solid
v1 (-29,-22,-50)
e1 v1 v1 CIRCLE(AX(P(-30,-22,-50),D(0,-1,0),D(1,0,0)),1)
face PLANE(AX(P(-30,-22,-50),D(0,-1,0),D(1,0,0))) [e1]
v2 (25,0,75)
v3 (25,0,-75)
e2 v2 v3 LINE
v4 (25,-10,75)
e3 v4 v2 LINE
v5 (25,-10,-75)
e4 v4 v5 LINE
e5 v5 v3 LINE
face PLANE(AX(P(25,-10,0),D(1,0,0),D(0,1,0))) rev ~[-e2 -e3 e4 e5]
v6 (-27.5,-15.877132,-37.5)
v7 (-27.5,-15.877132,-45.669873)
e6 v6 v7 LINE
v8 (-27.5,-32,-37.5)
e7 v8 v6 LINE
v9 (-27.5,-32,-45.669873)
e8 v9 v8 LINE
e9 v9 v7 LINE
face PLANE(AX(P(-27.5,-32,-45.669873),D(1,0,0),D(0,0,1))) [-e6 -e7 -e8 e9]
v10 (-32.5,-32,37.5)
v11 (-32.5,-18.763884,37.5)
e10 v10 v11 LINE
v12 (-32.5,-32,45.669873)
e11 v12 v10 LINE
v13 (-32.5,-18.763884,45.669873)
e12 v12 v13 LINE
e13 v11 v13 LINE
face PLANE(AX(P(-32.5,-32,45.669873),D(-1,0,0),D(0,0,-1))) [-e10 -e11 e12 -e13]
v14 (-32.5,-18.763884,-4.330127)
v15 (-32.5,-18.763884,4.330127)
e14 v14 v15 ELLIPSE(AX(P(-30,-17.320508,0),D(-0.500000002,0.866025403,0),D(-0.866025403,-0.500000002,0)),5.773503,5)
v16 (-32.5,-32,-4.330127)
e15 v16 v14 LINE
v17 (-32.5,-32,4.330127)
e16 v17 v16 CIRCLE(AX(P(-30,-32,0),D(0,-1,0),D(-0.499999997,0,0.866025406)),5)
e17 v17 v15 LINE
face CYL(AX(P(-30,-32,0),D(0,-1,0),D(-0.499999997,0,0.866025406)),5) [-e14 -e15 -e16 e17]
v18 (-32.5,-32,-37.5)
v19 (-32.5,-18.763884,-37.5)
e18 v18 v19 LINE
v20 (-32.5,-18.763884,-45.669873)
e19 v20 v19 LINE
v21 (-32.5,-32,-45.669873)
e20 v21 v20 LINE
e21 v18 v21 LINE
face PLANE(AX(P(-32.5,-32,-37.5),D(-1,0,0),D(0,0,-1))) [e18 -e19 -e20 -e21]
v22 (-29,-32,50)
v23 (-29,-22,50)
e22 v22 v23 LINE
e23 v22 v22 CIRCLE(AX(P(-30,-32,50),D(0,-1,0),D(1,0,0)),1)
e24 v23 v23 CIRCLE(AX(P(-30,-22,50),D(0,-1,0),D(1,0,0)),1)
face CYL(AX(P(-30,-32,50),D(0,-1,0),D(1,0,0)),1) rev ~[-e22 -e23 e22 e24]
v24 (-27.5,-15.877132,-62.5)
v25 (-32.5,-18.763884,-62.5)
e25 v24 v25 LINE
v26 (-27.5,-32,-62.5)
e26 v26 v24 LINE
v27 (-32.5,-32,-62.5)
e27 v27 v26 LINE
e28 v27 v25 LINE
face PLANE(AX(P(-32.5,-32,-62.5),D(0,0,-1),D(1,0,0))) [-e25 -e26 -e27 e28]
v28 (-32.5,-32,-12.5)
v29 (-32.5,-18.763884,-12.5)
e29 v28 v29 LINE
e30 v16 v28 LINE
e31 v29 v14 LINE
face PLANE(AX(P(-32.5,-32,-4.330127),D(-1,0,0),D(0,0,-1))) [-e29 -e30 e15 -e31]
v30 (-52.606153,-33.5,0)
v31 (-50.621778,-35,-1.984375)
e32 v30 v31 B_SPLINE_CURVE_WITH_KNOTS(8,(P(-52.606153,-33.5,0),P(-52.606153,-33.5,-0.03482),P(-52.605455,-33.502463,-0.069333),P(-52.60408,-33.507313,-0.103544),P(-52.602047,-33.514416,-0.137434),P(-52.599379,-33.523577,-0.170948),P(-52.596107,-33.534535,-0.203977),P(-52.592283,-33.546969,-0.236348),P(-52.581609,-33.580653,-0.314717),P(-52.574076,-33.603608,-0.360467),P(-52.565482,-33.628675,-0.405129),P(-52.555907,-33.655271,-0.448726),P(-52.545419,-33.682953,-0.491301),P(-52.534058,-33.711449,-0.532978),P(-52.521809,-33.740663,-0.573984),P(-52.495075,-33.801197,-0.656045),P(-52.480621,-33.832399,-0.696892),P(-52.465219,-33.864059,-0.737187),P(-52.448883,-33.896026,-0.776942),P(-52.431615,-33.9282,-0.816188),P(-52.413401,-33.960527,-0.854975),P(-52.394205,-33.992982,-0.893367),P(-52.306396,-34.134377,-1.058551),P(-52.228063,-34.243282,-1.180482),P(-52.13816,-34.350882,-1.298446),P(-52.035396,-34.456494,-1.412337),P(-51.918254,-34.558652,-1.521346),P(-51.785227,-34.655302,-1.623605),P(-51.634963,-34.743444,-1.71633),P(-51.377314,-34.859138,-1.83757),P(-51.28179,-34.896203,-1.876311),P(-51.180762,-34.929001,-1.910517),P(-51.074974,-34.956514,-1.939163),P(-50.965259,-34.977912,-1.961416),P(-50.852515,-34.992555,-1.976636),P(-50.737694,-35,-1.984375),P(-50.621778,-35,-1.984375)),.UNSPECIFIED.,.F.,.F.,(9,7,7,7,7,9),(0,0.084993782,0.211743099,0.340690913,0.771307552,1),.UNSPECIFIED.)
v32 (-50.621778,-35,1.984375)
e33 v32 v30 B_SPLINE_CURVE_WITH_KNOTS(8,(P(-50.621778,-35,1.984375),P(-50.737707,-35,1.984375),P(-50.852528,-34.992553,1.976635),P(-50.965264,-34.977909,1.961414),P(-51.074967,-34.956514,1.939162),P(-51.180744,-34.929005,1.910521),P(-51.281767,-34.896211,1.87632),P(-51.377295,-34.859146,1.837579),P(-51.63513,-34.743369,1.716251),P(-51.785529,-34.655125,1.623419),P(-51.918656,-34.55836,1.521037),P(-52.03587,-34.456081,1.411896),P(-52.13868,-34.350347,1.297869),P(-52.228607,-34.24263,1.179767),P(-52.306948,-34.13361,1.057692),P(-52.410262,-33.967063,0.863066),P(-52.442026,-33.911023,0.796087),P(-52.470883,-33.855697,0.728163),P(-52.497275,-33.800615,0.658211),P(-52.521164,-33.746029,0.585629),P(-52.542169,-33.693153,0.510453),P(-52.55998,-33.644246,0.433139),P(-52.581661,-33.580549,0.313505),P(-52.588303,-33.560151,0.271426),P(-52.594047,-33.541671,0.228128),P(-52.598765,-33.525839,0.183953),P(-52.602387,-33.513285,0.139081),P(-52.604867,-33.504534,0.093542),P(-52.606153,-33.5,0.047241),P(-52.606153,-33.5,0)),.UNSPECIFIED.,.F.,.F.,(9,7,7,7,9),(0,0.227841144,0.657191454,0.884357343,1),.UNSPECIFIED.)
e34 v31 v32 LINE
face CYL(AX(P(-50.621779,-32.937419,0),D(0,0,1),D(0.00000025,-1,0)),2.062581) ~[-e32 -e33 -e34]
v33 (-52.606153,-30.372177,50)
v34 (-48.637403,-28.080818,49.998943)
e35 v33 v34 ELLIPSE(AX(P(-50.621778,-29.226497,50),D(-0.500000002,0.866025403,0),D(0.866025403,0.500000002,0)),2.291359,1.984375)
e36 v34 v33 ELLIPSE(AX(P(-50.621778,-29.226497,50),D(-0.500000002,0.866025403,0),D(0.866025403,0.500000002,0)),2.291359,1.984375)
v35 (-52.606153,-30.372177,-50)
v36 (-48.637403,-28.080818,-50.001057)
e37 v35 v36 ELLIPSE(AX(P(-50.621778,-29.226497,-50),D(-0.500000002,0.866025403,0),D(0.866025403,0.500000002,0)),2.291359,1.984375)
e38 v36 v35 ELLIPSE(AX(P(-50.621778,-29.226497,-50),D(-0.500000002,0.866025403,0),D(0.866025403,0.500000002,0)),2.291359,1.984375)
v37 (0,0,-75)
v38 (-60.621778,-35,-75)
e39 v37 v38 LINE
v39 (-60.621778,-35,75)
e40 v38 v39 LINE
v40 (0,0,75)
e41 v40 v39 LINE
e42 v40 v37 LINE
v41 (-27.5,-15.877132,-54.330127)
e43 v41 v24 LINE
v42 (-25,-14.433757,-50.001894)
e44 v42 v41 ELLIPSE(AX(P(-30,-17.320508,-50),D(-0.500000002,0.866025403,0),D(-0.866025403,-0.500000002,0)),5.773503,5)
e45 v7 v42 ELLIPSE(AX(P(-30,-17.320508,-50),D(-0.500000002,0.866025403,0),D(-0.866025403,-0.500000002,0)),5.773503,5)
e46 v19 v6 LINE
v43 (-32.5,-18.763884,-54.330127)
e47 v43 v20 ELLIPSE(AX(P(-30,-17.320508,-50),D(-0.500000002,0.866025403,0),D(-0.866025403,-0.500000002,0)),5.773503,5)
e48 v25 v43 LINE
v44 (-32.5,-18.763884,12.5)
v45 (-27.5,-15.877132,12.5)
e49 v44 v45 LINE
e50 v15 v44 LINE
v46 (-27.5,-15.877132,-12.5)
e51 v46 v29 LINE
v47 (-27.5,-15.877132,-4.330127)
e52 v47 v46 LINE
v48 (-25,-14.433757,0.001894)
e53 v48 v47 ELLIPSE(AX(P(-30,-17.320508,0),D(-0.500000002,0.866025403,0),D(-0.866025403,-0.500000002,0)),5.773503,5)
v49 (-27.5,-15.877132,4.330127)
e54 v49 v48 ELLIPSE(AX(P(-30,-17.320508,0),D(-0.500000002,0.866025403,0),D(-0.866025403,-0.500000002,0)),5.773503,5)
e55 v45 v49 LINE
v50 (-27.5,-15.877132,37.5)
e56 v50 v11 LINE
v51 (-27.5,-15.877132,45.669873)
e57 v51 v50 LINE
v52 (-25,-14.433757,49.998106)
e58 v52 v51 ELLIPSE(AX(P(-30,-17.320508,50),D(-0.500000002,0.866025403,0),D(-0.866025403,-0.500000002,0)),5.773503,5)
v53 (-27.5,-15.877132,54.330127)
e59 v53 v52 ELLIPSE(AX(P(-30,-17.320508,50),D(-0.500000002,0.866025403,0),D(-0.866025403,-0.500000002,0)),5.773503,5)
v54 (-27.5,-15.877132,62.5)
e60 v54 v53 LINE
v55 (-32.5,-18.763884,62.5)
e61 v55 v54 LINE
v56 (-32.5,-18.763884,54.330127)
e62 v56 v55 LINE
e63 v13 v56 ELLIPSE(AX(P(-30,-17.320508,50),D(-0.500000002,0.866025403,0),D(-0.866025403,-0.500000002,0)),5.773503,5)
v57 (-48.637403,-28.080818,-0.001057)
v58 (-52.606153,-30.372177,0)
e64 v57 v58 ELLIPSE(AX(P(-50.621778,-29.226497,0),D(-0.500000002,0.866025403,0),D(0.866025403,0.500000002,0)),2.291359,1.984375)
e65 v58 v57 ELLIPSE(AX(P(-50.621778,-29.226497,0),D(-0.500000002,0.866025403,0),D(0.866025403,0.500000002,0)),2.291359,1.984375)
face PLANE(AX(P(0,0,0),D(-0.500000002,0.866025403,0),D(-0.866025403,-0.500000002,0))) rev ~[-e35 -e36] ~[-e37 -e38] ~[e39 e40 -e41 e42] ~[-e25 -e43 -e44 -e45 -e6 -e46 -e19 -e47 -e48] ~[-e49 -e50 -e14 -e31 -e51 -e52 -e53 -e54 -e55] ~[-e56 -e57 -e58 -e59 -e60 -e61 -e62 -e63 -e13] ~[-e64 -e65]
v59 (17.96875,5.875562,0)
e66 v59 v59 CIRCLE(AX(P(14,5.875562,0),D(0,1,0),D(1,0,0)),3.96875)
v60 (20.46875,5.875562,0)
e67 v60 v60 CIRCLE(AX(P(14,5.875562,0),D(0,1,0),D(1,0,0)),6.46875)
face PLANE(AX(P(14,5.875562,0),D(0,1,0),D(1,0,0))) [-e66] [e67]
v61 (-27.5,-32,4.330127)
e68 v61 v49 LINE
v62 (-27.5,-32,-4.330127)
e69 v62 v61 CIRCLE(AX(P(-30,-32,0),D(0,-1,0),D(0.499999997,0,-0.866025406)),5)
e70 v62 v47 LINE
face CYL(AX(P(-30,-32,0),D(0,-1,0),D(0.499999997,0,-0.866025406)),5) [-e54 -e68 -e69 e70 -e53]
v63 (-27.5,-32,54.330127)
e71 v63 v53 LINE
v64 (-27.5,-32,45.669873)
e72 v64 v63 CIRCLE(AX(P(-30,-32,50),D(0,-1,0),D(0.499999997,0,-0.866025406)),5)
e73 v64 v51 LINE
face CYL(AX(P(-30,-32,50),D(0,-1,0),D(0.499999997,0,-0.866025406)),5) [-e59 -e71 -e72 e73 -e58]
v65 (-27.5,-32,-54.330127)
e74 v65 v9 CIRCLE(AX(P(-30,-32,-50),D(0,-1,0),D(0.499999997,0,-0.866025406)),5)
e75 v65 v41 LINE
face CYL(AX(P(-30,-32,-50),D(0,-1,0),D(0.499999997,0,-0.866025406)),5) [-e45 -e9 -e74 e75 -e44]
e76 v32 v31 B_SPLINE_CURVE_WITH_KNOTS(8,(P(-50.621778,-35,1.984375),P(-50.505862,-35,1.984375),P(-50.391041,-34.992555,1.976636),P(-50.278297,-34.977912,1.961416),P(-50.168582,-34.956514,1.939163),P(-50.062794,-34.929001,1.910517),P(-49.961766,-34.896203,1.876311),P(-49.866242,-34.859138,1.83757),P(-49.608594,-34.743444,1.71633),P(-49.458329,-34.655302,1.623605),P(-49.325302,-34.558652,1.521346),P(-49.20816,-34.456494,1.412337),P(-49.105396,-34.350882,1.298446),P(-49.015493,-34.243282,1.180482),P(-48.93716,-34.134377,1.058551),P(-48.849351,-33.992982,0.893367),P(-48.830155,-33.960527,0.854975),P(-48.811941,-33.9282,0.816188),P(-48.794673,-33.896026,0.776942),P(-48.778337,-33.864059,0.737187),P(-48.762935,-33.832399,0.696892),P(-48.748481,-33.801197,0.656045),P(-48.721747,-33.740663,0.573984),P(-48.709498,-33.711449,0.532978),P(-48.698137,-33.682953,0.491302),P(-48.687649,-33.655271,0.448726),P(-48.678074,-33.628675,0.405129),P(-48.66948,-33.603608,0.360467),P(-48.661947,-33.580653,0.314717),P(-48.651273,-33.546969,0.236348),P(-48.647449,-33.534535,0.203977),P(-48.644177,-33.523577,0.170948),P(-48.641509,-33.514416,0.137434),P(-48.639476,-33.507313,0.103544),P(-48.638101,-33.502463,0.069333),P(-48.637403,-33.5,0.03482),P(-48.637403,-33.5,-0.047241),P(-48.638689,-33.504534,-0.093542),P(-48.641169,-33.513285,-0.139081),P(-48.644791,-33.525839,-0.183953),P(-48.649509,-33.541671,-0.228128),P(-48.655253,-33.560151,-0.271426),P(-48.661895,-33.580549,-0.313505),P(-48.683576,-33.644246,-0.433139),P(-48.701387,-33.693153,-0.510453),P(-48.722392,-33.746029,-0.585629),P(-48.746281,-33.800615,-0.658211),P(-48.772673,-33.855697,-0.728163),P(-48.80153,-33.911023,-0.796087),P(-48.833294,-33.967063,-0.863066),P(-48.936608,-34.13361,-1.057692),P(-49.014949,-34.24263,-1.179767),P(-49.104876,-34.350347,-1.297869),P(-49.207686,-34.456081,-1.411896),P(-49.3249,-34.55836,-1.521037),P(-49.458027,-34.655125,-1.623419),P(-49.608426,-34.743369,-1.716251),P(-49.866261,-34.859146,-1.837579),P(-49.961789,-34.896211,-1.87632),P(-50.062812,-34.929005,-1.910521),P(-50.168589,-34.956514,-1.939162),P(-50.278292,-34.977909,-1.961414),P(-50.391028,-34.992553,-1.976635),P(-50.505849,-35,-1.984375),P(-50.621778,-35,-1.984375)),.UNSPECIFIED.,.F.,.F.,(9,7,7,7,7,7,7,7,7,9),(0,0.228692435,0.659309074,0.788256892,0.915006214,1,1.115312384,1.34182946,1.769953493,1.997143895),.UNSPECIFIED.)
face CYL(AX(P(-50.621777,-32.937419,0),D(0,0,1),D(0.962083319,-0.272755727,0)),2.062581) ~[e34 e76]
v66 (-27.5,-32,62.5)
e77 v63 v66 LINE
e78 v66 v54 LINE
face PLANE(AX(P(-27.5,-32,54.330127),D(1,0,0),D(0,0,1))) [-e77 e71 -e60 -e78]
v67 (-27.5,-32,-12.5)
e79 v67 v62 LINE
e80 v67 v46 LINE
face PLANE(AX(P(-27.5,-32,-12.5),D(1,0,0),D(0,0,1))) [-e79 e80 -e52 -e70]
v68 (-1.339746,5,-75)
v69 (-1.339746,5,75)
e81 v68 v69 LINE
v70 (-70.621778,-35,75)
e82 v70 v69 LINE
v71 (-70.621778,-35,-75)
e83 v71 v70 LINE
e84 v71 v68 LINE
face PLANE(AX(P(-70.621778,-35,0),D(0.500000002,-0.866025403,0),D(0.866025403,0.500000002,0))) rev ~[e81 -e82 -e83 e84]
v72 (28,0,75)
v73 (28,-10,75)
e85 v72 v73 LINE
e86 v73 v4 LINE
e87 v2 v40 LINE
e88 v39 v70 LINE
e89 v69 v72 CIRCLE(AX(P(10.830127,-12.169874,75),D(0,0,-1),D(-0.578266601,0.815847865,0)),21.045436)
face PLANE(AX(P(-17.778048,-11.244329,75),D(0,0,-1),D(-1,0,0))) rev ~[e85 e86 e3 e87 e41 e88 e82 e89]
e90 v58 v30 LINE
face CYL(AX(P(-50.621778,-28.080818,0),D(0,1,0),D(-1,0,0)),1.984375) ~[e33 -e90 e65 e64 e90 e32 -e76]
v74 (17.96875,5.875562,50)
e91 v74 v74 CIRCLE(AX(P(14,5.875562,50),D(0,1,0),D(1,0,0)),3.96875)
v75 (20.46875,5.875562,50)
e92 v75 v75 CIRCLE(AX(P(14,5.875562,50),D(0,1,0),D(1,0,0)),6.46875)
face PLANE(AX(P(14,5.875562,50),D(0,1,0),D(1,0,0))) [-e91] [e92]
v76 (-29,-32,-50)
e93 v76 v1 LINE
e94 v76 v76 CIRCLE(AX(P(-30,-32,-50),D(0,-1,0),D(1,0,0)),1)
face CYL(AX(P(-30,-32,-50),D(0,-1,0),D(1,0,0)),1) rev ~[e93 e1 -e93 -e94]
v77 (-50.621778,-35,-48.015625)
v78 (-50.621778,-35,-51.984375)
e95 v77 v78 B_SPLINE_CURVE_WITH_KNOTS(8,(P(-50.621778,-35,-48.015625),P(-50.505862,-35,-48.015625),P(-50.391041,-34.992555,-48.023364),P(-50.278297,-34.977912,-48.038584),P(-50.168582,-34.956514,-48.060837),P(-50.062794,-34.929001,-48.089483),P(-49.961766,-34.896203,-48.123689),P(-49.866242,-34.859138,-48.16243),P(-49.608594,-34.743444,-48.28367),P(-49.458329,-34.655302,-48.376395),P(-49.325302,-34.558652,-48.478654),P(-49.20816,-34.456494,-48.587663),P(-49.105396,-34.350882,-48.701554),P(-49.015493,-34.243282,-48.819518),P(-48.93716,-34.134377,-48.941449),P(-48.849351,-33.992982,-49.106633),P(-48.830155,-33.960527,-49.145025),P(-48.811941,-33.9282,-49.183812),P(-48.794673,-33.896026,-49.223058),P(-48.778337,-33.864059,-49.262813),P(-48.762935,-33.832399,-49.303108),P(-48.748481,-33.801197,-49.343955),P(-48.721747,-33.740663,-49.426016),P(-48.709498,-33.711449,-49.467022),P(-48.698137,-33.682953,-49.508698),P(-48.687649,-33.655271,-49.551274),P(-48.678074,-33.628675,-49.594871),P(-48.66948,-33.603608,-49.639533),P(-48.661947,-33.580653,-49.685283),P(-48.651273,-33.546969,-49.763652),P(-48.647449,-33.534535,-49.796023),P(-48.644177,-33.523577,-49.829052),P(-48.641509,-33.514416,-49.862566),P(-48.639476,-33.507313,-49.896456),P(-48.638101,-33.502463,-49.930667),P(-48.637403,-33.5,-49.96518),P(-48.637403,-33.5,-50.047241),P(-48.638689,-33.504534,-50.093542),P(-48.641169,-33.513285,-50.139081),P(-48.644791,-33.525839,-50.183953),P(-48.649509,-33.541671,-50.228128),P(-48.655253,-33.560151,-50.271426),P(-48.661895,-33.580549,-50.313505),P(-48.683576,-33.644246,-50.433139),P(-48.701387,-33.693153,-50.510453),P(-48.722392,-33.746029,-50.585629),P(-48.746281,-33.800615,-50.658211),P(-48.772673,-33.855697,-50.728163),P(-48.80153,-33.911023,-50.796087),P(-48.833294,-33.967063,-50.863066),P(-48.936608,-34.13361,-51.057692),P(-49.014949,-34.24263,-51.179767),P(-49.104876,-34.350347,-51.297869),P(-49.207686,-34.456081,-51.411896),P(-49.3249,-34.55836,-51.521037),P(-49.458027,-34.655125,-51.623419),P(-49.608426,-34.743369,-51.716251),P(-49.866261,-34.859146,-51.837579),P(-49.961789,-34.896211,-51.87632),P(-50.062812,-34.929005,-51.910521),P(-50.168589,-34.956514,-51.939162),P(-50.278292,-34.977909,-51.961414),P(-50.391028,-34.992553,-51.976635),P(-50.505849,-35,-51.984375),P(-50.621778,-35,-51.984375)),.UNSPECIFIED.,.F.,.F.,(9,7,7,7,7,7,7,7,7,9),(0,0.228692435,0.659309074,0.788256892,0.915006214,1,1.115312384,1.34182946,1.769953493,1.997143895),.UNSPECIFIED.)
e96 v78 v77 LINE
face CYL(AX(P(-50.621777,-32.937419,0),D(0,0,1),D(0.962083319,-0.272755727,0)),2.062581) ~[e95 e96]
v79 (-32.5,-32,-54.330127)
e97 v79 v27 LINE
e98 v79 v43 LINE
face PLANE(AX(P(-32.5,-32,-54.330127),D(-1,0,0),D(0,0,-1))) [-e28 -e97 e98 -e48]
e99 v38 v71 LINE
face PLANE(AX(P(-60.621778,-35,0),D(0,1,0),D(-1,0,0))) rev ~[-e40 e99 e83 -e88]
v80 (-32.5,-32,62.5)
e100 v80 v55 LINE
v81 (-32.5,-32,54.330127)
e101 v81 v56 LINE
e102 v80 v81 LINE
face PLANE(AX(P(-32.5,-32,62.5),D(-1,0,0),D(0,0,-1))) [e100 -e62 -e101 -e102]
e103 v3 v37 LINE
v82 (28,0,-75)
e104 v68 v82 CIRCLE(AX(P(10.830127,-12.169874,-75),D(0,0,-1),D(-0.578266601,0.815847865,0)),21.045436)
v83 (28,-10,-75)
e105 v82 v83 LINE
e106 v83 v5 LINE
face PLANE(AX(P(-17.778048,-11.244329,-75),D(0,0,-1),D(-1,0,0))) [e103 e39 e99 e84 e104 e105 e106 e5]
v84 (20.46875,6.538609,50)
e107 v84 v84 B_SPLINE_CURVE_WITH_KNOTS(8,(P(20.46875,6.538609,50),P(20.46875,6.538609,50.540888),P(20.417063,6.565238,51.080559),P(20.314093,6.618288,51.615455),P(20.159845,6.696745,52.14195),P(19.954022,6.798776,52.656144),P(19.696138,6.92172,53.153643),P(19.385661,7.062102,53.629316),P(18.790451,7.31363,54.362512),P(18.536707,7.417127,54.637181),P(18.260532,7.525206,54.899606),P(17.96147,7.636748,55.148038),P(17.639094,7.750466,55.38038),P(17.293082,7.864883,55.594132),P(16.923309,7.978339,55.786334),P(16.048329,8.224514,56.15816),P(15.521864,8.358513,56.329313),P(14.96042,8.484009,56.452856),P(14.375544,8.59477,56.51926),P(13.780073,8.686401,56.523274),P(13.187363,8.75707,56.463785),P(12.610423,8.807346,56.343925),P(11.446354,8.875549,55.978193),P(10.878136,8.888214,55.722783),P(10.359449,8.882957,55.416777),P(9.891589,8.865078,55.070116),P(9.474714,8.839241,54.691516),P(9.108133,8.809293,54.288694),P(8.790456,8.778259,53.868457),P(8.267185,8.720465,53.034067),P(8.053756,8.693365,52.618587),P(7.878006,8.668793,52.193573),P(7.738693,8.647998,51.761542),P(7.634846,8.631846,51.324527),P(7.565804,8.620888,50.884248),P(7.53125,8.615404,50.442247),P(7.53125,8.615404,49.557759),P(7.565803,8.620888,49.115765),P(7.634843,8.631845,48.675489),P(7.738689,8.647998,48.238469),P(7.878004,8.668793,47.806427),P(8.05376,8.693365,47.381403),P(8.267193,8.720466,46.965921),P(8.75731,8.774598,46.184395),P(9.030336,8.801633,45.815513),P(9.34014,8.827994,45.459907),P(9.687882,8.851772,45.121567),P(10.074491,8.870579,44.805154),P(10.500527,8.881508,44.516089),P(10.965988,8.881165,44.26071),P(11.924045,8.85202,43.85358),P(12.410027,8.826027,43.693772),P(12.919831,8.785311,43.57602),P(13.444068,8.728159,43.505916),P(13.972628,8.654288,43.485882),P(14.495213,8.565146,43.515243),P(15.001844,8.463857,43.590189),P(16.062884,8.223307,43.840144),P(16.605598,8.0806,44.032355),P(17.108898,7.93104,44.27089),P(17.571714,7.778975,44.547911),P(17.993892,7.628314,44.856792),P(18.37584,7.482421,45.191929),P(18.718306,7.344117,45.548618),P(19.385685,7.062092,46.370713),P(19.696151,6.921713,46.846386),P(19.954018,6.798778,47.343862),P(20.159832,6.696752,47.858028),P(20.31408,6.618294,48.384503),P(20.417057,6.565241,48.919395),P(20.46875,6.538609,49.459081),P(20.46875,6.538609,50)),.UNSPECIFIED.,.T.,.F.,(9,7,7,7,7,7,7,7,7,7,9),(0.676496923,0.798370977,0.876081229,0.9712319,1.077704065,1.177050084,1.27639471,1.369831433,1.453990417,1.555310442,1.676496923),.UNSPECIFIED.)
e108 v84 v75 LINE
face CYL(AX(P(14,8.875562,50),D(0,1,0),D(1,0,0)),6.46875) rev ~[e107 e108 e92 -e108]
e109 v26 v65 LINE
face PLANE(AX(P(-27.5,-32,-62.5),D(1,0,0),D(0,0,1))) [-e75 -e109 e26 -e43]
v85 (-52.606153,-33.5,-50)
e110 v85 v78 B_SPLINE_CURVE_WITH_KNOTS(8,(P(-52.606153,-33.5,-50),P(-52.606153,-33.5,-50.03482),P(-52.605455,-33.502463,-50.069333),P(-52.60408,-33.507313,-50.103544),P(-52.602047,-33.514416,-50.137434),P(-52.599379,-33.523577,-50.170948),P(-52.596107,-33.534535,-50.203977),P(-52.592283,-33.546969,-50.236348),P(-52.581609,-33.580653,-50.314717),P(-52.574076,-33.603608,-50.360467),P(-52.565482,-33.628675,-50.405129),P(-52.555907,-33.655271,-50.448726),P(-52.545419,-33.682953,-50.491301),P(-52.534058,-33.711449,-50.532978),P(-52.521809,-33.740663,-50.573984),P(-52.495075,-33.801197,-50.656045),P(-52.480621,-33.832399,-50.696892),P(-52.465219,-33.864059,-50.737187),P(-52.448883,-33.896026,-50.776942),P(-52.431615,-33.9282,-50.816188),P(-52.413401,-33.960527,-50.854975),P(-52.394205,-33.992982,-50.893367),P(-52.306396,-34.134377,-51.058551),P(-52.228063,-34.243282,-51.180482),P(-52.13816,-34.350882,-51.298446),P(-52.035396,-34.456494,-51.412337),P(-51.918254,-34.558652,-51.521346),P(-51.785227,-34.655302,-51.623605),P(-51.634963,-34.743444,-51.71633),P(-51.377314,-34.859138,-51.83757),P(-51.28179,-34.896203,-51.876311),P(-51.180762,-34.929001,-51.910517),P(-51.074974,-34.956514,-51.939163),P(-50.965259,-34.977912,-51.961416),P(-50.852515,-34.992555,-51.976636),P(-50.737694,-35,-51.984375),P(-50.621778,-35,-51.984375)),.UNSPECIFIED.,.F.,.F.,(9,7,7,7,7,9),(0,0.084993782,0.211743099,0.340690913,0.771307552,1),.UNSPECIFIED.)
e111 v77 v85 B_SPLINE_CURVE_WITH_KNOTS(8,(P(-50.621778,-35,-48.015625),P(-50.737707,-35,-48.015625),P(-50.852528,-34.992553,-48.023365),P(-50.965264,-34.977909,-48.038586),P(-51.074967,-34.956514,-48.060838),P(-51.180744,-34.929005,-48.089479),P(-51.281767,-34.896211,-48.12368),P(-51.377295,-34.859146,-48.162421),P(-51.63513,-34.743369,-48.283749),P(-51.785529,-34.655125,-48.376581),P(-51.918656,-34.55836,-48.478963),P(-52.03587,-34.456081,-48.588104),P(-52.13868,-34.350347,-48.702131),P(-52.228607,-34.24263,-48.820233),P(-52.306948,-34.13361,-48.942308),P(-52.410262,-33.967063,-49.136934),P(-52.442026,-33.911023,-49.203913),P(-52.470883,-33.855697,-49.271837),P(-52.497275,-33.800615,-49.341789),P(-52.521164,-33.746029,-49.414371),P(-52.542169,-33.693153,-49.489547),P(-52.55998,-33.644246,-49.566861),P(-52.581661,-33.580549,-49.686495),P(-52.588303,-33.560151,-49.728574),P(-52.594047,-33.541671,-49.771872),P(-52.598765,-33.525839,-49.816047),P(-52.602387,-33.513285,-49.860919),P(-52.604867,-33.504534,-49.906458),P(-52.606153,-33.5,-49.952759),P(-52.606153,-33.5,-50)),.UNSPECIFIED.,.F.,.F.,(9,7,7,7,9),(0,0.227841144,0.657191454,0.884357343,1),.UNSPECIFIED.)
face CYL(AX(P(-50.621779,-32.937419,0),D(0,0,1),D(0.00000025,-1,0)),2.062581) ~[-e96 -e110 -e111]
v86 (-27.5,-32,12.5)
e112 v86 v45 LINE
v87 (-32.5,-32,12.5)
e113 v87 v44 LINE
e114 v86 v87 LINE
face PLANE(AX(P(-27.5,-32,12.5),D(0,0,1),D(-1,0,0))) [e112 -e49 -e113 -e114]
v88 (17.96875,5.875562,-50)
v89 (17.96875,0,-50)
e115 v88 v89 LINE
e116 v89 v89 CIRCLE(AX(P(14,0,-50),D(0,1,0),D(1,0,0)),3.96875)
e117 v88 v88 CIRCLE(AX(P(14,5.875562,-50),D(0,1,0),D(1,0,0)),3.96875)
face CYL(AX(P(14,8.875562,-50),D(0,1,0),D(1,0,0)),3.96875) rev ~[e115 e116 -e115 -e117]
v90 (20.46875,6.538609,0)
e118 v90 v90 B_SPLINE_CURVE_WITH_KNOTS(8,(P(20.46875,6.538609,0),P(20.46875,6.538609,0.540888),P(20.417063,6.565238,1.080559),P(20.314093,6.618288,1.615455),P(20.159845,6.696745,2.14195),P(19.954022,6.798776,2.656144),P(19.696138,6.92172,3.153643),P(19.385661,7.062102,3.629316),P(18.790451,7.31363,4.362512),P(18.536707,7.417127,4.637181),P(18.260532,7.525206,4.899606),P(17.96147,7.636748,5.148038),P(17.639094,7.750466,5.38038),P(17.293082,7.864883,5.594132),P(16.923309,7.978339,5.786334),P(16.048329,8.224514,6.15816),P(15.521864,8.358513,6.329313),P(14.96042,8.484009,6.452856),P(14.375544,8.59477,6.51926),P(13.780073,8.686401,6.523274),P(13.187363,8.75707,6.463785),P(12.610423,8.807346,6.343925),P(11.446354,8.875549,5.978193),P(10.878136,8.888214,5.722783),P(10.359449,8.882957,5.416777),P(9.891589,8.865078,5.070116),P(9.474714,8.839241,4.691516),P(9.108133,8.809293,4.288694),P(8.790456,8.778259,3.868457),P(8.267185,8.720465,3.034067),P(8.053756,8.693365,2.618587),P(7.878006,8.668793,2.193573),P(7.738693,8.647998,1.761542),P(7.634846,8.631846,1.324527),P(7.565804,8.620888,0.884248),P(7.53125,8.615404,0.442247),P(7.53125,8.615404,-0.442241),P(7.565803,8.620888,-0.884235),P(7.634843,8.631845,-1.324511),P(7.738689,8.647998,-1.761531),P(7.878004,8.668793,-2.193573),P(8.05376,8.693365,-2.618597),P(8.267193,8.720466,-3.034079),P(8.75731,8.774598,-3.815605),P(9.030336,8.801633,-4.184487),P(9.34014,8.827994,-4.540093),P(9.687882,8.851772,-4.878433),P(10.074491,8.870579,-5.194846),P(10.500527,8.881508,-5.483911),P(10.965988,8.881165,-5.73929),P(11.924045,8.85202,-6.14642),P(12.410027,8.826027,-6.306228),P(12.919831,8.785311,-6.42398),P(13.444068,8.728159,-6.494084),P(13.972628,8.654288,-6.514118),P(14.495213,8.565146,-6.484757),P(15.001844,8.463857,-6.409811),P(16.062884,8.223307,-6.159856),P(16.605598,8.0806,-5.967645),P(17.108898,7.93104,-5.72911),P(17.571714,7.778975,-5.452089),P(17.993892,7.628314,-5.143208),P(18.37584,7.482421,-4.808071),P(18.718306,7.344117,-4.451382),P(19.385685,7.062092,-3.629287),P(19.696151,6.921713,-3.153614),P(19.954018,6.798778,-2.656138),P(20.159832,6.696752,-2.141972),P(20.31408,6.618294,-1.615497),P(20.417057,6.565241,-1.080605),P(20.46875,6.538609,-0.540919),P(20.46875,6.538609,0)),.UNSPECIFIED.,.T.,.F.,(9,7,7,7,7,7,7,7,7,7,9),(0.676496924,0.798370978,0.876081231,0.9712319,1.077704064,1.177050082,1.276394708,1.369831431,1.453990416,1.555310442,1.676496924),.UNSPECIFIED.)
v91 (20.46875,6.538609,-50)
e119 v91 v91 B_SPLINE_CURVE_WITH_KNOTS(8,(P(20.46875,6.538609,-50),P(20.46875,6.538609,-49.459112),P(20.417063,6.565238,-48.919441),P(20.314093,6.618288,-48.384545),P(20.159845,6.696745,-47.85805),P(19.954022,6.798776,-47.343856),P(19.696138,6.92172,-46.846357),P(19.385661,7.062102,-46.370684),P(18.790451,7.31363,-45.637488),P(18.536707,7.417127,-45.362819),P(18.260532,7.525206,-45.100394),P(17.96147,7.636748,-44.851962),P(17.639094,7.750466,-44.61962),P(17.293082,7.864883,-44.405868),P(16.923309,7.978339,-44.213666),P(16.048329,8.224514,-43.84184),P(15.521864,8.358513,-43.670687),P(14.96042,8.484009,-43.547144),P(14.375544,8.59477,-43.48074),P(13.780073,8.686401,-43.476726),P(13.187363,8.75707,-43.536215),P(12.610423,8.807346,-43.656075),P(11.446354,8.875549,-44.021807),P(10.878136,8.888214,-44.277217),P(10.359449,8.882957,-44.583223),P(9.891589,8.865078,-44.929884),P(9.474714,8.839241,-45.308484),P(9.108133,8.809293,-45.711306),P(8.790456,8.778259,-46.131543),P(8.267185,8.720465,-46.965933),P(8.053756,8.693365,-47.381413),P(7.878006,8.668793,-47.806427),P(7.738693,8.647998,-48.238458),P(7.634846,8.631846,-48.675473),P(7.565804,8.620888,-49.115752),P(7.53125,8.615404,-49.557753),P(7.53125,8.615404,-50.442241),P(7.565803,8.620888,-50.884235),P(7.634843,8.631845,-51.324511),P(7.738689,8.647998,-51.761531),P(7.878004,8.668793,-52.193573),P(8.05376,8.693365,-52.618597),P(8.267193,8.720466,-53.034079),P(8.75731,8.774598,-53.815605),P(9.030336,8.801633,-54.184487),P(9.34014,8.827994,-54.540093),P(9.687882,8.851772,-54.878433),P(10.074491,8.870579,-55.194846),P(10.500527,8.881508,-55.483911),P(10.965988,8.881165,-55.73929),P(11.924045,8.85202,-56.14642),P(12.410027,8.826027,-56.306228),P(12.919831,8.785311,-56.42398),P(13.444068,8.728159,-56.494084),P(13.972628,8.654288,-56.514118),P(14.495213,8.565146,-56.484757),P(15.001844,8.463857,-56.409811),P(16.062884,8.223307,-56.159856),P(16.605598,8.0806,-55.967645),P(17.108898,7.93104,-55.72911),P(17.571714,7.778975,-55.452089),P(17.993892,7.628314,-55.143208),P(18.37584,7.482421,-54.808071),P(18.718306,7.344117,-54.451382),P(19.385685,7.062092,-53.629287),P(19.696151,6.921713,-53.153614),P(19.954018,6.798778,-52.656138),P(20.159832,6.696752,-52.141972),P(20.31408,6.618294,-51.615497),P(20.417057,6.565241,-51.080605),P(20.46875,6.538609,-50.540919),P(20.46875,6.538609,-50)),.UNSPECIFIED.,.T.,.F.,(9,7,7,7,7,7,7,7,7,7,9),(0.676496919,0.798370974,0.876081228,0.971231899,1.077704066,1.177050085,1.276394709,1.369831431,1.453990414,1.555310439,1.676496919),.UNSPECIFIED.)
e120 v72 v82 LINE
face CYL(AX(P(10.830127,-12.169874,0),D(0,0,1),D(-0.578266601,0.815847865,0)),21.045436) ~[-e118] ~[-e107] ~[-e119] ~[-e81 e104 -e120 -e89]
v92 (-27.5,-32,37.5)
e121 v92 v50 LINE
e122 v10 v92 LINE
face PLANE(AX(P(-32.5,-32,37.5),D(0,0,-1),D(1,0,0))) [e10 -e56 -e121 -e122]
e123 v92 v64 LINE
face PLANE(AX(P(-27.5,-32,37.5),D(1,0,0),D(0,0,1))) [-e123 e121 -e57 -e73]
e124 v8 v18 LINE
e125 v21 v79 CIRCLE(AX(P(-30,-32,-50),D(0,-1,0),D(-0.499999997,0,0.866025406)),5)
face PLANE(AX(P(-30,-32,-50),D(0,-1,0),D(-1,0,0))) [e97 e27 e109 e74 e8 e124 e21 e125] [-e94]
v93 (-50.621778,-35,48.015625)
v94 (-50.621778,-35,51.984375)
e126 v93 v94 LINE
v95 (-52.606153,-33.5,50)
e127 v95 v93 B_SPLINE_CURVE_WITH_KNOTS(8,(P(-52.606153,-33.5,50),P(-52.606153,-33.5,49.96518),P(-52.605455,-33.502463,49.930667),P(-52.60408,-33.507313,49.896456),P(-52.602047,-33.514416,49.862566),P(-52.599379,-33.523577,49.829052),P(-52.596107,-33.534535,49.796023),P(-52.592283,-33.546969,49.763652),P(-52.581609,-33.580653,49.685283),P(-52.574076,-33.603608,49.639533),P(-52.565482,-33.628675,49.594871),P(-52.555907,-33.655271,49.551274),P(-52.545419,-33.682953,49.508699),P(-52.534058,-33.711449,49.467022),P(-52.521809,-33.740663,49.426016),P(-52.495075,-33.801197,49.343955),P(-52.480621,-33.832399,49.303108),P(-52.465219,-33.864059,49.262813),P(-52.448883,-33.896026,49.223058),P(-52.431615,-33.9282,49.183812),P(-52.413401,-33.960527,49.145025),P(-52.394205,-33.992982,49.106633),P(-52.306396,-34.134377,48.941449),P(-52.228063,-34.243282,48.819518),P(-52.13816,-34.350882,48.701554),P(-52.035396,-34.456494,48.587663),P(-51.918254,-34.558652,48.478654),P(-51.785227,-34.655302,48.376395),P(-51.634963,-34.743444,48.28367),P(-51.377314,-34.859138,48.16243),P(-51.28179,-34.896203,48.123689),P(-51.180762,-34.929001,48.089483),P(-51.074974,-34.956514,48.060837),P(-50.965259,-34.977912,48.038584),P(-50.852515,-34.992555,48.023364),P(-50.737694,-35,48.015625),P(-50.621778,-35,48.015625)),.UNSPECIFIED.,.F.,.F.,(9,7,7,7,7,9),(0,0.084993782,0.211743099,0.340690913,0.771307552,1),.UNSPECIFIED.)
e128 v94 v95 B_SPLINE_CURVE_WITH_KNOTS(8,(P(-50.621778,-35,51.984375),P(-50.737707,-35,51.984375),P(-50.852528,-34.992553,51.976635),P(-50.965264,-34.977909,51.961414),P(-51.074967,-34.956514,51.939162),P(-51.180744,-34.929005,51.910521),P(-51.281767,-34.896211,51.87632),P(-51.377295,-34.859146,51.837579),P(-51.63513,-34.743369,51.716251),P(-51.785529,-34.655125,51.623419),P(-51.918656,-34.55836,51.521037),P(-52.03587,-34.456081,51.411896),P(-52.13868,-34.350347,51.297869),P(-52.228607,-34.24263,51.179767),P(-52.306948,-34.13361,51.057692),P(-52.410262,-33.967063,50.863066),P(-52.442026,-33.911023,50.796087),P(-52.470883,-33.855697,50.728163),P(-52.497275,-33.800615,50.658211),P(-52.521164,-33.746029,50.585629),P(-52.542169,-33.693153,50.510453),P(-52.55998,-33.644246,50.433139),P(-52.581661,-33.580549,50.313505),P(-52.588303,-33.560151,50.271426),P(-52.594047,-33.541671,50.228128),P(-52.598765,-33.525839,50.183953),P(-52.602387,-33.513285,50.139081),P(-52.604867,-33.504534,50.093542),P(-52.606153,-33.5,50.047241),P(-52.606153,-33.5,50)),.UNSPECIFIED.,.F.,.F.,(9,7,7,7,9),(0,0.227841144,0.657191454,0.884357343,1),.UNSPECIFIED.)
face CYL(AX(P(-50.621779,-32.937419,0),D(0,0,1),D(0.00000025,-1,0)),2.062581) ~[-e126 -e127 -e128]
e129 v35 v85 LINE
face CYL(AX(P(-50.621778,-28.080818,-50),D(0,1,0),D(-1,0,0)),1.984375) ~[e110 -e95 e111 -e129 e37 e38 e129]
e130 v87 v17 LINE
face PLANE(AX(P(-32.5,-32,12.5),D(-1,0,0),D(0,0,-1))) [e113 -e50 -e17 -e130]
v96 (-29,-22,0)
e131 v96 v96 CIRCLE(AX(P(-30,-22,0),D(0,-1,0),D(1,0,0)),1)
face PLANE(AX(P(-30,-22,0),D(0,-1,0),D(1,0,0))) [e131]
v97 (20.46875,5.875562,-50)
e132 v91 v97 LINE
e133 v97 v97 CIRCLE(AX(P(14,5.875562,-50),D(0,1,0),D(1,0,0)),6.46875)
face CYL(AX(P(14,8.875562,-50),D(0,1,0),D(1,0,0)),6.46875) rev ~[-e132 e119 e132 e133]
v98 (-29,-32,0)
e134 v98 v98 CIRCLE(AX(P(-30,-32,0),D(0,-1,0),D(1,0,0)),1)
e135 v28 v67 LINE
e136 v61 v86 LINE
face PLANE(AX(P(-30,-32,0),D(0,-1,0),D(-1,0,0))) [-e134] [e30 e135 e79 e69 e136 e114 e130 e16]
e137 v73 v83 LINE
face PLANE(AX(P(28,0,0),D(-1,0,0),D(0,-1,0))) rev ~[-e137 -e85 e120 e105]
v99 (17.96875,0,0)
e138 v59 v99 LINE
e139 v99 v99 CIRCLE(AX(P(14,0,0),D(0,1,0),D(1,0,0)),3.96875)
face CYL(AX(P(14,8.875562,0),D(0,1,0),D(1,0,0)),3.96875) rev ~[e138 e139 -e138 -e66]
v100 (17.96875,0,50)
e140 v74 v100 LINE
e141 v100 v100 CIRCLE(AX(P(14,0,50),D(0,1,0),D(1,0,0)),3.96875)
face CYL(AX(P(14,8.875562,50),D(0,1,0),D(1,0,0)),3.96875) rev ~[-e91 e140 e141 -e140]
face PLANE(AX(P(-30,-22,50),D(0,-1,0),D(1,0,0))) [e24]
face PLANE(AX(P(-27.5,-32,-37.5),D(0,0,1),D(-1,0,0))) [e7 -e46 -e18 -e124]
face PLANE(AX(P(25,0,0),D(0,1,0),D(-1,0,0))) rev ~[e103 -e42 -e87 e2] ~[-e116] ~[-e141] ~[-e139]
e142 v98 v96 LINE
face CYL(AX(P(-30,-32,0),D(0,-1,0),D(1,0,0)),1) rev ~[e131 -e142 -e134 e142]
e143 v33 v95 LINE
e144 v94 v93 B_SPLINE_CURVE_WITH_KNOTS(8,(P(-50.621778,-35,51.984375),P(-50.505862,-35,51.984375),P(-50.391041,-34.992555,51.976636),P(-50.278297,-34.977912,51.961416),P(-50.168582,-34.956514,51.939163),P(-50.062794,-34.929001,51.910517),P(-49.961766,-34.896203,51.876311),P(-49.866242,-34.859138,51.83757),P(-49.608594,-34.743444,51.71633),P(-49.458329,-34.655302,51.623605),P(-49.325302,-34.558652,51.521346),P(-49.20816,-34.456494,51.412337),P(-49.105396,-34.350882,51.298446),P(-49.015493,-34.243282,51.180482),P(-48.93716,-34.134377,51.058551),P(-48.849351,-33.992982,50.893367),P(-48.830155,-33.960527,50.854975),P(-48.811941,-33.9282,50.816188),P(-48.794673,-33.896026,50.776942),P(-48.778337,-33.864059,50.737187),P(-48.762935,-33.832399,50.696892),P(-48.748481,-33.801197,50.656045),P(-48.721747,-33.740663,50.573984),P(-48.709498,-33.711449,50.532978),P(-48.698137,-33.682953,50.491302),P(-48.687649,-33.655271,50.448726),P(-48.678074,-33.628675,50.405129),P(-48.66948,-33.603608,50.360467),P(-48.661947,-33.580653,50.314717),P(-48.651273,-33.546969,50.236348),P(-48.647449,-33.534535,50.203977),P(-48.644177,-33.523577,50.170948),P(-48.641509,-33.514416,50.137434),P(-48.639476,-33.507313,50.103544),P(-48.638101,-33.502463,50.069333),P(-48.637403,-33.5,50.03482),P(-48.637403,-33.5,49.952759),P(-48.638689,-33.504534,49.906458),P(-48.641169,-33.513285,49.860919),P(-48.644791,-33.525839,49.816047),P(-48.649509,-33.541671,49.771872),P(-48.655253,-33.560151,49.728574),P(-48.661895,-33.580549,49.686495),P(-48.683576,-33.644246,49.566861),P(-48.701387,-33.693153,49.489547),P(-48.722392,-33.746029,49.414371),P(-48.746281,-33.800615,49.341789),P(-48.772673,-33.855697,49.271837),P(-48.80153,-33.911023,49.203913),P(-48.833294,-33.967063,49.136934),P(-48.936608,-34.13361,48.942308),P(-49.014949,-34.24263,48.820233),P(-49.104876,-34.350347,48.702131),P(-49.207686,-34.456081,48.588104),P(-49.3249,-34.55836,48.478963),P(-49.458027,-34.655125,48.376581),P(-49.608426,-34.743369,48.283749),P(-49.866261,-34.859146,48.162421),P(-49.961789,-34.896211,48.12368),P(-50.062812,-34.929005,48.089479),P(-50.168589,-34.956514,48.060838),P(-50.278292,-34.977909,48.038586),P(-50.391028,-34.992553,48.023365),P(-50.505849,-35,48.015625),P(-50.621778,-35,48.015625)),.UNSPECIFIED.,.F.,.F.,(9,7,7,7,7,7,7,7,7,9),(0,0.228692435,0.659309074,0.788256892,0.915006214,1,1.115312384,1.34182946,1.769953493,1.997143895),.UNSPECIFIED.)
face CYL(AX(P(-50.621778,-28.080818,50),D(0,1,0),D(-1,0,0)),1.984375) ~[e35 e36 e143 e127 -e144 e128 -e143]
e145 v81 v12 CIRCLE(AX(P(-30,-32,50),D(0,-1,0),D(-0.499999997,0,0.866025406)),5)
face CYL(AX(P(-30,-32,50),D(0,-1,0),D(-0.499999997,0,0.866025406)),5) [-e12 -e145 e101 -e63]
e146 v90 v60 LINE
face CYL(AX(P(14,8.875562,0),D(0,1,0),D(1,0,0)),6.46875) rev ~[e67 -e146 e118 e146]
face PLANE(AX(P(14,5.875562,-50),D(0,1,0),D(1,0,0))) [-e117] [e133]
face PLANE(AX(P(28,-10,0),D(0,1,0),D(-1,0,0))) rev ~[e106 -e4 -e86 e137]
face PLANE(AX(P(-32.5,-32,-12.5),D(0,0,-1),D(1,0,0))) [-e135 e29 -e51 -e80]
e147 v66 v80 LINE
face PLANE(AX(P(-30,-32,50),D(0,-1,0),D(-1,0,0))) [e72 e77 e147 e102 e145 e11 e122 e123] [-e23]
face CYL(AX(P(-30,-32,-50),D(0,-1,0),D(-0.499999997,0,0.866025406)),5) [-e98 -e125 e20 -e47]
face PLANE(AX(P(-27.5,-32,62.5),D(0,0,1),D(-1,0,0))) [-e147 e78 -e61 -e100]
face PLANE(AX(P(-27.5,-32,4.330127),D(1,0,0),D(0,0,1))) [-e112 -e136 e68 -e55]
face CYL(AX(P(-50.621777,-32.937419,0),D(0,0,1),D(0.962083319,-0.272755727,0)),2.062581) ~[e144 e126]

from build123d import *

# Parameters (mm, degrees)
SALIENTE_EXTRUIR1_DEPTH = 75
SALIENTE_EXTRUIR2_START = -17
SALIENTE_EXTRUIR2_DEPTH = 17.566243
CROQUIS3_R              = 3.96875
CORTAR_EXTRUIR1_DEPTH   = 10
CROQUIS4_R              = 6.46875
CROQUIS4_R_2            = 3.96875
CORTAR_EXTRUIR2_DEPTH   = 3
SALIENTE_EXTRUIR3_START = -6.919182
CROQUIS7_R              = 1.984375
SALIENTE_EXTRUIR3_DEPTH = 6.919182
CORTAR_EXTRUIR3_DEPTH   = 75
CROQUIS9_R              = 1
CORTAR_EXTRUIR4_DEPTH   = 10


with BuildPart() as part:
    # Croquis1 → Saliente-Extruir1 (new body, symmetric)
    with BuildSketch(Plane.XY):
        with BuildLine():
            ThreePointArc((-1.339746, 5), (14.365661, 8.57646), (28, 0))
            Line((28, 0), (28, -10))
            Line((28, -10), (25, -10))
            Line((25, -10), (25, 0))
            Line((25, 0), (0, 0))
            Line((0, 0), (-60.621778, -35))
            Line((-60.621778, -35), (-70.621778, -35))
            Line((-70.621778, -35), (-1.339746, 5))
        make_face()
    extrude(amount=SALIENTE_EXTRUIR1_DEPTH, both=True)

    # Croquis2 → Saliente-Extruir2 (add)
    with BuildSketch(Plane(origin=(0, -15, 0), x_dir=(1, 0, 0), z_dir=(0, 1, 0)).offset(SALIENTE_EXTRUIR2_START)):
        with BuildLine():
            Line((-32.5, 4.330127), (-32.5, 12.5))
            Line((-32.5, 12.5), (-27.5, 12.5))
            Line((-27.5, 12.5), (-27.5, 4.330127))
            ThreePointArc((-27.5, 4.330127), (-25, 0), (-27.5, -4.330127))
            Line((-27.5, -4.330127), (-27.5, -12.5))
            Line((-27.5, -12.5), (-32.5, -12.5))
            Line((-32.5, -12.5), (-32.5, -4.330127))
            ThreePointArc((-32.5, -4.330127), (-35, 0), (-32.5, 4.330127))
        make_face()
        with BuildLine():
            Line((-32.5, 54.330127), (-32.5, 62.5))
            Line((-32.5, 62.5), (-27.5, 62.5))
            Line((-27.5, 62.5), (-27.5, 54.330127))
            ThreePointArc((-27.5, 54.330127), (-25, 50), (-27.5, 45.669873))
            Line((-27.5, 45.669873), (-27.5, 37.5))
            Line((-27.5, 37.5), (-32.5, 37.5))
            Line((-32.5, 37.5), (-32.5, 45.669873))
            ThreePointArc((-32.5, 45.669873), (-35, 50), (-32.5, 54.330127))
        make_face()
        with BuildLine():
            Line((-32.5, -45.669873), (-32.5, -37.5))
            Line((-32.5, -37.5), (-27.5, -37.5))
            Line((-27.5, -37.5), (-27.5, -45.669873))
            ThreePointArc((-27.5, -45.669873), (-25, -50), (-27.5, -54.330127))
            Line((-27.5, -54.330127), (-27.5, -62.5))
            Line((-27.5, -62.5), (-32.5, -62.5))
            Line((-32.5, -62.5), (-32.5, -54.330127))
            ThreePointArc((-32.5, -54.330127), (-35, -50), (-32.5, -45.669873))
        make_face()
    extrude(amount=SALIENTE_EXTRUIR2_DEPTH)

    # Croquis3 → Cortar-Extruir1 (cut)
    with BuildSketch(Plane(origin=(0, 8.875562, 0), x_dir=(1, 0, 0), z_dir=(0, 1, 0))):
        with Locations((14, -50)):
            Circle(CROQUIS3_R)
        with Locations((14, 0)):
            Circle(CROQUIS3_R)
        with Locations((14, 50)):
            Circle(CROQUIS3_R)
    extrude(amount=-CORTAR_EXTRUIR1_DEPTH, mode=Mode.SUBTRACT)

    # Croquis4 → Cortar-Extruir2 (cut)
    with BuildSketch(Plane(origin=(0, 8.875562, 0), x_dir=(1, 0, 0), z_dir=(0, 1, 0))):
        with Locations((14, 50)):
            Circle(CROQUIS4_R)
        with Locations((14, 50)):
            Circle(CROQUIS4_R_2, mode=Mode.SUBTRACT)
        with Locations((14, 0)):
            Circle(CROQUIS4_R)
        with Locations((14, 0)):
            Circle(CROQUIS4_R_2, mode=Mode.SUBTRACT)
        with Locations((14, -50)):
            Circle(CROQUIS4_R)
        with Locations((14, -50)):
            Circle(CROQUIS4_R_2, mode=Mode.SUBTRACT)
    extrude(amount=-CORTAR_EXTRUIR2_DEPTH, mode=Mode.SUBTRACT)

    # Croquis7 → Saliente-Extruir3 (add)
    with BuildSketch(Plane(origin=(0, -35, 0), x_dir=(-1, 0, 0), z_dir=(0, -1, 0)).offset(SALIENTE_EXTRUIR3_START)):
        with Locations((50.621778, 0)):
            Circle(CROQUIS7_R)
        with Locations((50.621778, 50)):
            Circle(CROQUIS7_R)
        with Locations((50.621778, -50)):
            Circle(CROQUIS7_R)
    extrude(amount=SALIENTE_EXTRUIR3_DEPTH)

    # Croquis8 → Cortar-Extruir3 (cut, symmetric)
    with BuildSketch(Plane.XY):
        with BuildLine():
            ThreePointArc((-50.621778, -35), (-51.865537, -34.582808), (-52.606153, -33.5))
            Line((-52.606153, -33.5), (-52.606153, -35))
            Line((-52.606153, -35), (-50.621778, -35))
        make_face()
        with BuildLine():
            ThreePointArc((-48.637403, -33.5), (-49.378019, -34.582808), (-50.621778, -35))
            Line((-50.621778, -35), (-48.637403, -35))
            Line((-48.637403, -35), (-48.637403, -33.5))
        make_face()
    extrude(amount=CORTAR_EXTRUIR3_DEPTH, both=True, mode=Mode.SUBTRACT)

    # Croquis9 → Cortar-Extruir4 (cut)
    with BuildSketch(Plane.XZ.offset(32)):
        with Locations((-30, 0)):
            Circle(CROQUIS9_R)
        with Locations((-30, 50)):
            Circle(CROQUIS9_R)
        with Locations((-30, -50)):
            Circle(CROQUIS9_R)
    extrude(amount=-CORTAR_EXTRUIR4_DEPTH, mode=Mode.SUBTRACT)


solid = part.part
